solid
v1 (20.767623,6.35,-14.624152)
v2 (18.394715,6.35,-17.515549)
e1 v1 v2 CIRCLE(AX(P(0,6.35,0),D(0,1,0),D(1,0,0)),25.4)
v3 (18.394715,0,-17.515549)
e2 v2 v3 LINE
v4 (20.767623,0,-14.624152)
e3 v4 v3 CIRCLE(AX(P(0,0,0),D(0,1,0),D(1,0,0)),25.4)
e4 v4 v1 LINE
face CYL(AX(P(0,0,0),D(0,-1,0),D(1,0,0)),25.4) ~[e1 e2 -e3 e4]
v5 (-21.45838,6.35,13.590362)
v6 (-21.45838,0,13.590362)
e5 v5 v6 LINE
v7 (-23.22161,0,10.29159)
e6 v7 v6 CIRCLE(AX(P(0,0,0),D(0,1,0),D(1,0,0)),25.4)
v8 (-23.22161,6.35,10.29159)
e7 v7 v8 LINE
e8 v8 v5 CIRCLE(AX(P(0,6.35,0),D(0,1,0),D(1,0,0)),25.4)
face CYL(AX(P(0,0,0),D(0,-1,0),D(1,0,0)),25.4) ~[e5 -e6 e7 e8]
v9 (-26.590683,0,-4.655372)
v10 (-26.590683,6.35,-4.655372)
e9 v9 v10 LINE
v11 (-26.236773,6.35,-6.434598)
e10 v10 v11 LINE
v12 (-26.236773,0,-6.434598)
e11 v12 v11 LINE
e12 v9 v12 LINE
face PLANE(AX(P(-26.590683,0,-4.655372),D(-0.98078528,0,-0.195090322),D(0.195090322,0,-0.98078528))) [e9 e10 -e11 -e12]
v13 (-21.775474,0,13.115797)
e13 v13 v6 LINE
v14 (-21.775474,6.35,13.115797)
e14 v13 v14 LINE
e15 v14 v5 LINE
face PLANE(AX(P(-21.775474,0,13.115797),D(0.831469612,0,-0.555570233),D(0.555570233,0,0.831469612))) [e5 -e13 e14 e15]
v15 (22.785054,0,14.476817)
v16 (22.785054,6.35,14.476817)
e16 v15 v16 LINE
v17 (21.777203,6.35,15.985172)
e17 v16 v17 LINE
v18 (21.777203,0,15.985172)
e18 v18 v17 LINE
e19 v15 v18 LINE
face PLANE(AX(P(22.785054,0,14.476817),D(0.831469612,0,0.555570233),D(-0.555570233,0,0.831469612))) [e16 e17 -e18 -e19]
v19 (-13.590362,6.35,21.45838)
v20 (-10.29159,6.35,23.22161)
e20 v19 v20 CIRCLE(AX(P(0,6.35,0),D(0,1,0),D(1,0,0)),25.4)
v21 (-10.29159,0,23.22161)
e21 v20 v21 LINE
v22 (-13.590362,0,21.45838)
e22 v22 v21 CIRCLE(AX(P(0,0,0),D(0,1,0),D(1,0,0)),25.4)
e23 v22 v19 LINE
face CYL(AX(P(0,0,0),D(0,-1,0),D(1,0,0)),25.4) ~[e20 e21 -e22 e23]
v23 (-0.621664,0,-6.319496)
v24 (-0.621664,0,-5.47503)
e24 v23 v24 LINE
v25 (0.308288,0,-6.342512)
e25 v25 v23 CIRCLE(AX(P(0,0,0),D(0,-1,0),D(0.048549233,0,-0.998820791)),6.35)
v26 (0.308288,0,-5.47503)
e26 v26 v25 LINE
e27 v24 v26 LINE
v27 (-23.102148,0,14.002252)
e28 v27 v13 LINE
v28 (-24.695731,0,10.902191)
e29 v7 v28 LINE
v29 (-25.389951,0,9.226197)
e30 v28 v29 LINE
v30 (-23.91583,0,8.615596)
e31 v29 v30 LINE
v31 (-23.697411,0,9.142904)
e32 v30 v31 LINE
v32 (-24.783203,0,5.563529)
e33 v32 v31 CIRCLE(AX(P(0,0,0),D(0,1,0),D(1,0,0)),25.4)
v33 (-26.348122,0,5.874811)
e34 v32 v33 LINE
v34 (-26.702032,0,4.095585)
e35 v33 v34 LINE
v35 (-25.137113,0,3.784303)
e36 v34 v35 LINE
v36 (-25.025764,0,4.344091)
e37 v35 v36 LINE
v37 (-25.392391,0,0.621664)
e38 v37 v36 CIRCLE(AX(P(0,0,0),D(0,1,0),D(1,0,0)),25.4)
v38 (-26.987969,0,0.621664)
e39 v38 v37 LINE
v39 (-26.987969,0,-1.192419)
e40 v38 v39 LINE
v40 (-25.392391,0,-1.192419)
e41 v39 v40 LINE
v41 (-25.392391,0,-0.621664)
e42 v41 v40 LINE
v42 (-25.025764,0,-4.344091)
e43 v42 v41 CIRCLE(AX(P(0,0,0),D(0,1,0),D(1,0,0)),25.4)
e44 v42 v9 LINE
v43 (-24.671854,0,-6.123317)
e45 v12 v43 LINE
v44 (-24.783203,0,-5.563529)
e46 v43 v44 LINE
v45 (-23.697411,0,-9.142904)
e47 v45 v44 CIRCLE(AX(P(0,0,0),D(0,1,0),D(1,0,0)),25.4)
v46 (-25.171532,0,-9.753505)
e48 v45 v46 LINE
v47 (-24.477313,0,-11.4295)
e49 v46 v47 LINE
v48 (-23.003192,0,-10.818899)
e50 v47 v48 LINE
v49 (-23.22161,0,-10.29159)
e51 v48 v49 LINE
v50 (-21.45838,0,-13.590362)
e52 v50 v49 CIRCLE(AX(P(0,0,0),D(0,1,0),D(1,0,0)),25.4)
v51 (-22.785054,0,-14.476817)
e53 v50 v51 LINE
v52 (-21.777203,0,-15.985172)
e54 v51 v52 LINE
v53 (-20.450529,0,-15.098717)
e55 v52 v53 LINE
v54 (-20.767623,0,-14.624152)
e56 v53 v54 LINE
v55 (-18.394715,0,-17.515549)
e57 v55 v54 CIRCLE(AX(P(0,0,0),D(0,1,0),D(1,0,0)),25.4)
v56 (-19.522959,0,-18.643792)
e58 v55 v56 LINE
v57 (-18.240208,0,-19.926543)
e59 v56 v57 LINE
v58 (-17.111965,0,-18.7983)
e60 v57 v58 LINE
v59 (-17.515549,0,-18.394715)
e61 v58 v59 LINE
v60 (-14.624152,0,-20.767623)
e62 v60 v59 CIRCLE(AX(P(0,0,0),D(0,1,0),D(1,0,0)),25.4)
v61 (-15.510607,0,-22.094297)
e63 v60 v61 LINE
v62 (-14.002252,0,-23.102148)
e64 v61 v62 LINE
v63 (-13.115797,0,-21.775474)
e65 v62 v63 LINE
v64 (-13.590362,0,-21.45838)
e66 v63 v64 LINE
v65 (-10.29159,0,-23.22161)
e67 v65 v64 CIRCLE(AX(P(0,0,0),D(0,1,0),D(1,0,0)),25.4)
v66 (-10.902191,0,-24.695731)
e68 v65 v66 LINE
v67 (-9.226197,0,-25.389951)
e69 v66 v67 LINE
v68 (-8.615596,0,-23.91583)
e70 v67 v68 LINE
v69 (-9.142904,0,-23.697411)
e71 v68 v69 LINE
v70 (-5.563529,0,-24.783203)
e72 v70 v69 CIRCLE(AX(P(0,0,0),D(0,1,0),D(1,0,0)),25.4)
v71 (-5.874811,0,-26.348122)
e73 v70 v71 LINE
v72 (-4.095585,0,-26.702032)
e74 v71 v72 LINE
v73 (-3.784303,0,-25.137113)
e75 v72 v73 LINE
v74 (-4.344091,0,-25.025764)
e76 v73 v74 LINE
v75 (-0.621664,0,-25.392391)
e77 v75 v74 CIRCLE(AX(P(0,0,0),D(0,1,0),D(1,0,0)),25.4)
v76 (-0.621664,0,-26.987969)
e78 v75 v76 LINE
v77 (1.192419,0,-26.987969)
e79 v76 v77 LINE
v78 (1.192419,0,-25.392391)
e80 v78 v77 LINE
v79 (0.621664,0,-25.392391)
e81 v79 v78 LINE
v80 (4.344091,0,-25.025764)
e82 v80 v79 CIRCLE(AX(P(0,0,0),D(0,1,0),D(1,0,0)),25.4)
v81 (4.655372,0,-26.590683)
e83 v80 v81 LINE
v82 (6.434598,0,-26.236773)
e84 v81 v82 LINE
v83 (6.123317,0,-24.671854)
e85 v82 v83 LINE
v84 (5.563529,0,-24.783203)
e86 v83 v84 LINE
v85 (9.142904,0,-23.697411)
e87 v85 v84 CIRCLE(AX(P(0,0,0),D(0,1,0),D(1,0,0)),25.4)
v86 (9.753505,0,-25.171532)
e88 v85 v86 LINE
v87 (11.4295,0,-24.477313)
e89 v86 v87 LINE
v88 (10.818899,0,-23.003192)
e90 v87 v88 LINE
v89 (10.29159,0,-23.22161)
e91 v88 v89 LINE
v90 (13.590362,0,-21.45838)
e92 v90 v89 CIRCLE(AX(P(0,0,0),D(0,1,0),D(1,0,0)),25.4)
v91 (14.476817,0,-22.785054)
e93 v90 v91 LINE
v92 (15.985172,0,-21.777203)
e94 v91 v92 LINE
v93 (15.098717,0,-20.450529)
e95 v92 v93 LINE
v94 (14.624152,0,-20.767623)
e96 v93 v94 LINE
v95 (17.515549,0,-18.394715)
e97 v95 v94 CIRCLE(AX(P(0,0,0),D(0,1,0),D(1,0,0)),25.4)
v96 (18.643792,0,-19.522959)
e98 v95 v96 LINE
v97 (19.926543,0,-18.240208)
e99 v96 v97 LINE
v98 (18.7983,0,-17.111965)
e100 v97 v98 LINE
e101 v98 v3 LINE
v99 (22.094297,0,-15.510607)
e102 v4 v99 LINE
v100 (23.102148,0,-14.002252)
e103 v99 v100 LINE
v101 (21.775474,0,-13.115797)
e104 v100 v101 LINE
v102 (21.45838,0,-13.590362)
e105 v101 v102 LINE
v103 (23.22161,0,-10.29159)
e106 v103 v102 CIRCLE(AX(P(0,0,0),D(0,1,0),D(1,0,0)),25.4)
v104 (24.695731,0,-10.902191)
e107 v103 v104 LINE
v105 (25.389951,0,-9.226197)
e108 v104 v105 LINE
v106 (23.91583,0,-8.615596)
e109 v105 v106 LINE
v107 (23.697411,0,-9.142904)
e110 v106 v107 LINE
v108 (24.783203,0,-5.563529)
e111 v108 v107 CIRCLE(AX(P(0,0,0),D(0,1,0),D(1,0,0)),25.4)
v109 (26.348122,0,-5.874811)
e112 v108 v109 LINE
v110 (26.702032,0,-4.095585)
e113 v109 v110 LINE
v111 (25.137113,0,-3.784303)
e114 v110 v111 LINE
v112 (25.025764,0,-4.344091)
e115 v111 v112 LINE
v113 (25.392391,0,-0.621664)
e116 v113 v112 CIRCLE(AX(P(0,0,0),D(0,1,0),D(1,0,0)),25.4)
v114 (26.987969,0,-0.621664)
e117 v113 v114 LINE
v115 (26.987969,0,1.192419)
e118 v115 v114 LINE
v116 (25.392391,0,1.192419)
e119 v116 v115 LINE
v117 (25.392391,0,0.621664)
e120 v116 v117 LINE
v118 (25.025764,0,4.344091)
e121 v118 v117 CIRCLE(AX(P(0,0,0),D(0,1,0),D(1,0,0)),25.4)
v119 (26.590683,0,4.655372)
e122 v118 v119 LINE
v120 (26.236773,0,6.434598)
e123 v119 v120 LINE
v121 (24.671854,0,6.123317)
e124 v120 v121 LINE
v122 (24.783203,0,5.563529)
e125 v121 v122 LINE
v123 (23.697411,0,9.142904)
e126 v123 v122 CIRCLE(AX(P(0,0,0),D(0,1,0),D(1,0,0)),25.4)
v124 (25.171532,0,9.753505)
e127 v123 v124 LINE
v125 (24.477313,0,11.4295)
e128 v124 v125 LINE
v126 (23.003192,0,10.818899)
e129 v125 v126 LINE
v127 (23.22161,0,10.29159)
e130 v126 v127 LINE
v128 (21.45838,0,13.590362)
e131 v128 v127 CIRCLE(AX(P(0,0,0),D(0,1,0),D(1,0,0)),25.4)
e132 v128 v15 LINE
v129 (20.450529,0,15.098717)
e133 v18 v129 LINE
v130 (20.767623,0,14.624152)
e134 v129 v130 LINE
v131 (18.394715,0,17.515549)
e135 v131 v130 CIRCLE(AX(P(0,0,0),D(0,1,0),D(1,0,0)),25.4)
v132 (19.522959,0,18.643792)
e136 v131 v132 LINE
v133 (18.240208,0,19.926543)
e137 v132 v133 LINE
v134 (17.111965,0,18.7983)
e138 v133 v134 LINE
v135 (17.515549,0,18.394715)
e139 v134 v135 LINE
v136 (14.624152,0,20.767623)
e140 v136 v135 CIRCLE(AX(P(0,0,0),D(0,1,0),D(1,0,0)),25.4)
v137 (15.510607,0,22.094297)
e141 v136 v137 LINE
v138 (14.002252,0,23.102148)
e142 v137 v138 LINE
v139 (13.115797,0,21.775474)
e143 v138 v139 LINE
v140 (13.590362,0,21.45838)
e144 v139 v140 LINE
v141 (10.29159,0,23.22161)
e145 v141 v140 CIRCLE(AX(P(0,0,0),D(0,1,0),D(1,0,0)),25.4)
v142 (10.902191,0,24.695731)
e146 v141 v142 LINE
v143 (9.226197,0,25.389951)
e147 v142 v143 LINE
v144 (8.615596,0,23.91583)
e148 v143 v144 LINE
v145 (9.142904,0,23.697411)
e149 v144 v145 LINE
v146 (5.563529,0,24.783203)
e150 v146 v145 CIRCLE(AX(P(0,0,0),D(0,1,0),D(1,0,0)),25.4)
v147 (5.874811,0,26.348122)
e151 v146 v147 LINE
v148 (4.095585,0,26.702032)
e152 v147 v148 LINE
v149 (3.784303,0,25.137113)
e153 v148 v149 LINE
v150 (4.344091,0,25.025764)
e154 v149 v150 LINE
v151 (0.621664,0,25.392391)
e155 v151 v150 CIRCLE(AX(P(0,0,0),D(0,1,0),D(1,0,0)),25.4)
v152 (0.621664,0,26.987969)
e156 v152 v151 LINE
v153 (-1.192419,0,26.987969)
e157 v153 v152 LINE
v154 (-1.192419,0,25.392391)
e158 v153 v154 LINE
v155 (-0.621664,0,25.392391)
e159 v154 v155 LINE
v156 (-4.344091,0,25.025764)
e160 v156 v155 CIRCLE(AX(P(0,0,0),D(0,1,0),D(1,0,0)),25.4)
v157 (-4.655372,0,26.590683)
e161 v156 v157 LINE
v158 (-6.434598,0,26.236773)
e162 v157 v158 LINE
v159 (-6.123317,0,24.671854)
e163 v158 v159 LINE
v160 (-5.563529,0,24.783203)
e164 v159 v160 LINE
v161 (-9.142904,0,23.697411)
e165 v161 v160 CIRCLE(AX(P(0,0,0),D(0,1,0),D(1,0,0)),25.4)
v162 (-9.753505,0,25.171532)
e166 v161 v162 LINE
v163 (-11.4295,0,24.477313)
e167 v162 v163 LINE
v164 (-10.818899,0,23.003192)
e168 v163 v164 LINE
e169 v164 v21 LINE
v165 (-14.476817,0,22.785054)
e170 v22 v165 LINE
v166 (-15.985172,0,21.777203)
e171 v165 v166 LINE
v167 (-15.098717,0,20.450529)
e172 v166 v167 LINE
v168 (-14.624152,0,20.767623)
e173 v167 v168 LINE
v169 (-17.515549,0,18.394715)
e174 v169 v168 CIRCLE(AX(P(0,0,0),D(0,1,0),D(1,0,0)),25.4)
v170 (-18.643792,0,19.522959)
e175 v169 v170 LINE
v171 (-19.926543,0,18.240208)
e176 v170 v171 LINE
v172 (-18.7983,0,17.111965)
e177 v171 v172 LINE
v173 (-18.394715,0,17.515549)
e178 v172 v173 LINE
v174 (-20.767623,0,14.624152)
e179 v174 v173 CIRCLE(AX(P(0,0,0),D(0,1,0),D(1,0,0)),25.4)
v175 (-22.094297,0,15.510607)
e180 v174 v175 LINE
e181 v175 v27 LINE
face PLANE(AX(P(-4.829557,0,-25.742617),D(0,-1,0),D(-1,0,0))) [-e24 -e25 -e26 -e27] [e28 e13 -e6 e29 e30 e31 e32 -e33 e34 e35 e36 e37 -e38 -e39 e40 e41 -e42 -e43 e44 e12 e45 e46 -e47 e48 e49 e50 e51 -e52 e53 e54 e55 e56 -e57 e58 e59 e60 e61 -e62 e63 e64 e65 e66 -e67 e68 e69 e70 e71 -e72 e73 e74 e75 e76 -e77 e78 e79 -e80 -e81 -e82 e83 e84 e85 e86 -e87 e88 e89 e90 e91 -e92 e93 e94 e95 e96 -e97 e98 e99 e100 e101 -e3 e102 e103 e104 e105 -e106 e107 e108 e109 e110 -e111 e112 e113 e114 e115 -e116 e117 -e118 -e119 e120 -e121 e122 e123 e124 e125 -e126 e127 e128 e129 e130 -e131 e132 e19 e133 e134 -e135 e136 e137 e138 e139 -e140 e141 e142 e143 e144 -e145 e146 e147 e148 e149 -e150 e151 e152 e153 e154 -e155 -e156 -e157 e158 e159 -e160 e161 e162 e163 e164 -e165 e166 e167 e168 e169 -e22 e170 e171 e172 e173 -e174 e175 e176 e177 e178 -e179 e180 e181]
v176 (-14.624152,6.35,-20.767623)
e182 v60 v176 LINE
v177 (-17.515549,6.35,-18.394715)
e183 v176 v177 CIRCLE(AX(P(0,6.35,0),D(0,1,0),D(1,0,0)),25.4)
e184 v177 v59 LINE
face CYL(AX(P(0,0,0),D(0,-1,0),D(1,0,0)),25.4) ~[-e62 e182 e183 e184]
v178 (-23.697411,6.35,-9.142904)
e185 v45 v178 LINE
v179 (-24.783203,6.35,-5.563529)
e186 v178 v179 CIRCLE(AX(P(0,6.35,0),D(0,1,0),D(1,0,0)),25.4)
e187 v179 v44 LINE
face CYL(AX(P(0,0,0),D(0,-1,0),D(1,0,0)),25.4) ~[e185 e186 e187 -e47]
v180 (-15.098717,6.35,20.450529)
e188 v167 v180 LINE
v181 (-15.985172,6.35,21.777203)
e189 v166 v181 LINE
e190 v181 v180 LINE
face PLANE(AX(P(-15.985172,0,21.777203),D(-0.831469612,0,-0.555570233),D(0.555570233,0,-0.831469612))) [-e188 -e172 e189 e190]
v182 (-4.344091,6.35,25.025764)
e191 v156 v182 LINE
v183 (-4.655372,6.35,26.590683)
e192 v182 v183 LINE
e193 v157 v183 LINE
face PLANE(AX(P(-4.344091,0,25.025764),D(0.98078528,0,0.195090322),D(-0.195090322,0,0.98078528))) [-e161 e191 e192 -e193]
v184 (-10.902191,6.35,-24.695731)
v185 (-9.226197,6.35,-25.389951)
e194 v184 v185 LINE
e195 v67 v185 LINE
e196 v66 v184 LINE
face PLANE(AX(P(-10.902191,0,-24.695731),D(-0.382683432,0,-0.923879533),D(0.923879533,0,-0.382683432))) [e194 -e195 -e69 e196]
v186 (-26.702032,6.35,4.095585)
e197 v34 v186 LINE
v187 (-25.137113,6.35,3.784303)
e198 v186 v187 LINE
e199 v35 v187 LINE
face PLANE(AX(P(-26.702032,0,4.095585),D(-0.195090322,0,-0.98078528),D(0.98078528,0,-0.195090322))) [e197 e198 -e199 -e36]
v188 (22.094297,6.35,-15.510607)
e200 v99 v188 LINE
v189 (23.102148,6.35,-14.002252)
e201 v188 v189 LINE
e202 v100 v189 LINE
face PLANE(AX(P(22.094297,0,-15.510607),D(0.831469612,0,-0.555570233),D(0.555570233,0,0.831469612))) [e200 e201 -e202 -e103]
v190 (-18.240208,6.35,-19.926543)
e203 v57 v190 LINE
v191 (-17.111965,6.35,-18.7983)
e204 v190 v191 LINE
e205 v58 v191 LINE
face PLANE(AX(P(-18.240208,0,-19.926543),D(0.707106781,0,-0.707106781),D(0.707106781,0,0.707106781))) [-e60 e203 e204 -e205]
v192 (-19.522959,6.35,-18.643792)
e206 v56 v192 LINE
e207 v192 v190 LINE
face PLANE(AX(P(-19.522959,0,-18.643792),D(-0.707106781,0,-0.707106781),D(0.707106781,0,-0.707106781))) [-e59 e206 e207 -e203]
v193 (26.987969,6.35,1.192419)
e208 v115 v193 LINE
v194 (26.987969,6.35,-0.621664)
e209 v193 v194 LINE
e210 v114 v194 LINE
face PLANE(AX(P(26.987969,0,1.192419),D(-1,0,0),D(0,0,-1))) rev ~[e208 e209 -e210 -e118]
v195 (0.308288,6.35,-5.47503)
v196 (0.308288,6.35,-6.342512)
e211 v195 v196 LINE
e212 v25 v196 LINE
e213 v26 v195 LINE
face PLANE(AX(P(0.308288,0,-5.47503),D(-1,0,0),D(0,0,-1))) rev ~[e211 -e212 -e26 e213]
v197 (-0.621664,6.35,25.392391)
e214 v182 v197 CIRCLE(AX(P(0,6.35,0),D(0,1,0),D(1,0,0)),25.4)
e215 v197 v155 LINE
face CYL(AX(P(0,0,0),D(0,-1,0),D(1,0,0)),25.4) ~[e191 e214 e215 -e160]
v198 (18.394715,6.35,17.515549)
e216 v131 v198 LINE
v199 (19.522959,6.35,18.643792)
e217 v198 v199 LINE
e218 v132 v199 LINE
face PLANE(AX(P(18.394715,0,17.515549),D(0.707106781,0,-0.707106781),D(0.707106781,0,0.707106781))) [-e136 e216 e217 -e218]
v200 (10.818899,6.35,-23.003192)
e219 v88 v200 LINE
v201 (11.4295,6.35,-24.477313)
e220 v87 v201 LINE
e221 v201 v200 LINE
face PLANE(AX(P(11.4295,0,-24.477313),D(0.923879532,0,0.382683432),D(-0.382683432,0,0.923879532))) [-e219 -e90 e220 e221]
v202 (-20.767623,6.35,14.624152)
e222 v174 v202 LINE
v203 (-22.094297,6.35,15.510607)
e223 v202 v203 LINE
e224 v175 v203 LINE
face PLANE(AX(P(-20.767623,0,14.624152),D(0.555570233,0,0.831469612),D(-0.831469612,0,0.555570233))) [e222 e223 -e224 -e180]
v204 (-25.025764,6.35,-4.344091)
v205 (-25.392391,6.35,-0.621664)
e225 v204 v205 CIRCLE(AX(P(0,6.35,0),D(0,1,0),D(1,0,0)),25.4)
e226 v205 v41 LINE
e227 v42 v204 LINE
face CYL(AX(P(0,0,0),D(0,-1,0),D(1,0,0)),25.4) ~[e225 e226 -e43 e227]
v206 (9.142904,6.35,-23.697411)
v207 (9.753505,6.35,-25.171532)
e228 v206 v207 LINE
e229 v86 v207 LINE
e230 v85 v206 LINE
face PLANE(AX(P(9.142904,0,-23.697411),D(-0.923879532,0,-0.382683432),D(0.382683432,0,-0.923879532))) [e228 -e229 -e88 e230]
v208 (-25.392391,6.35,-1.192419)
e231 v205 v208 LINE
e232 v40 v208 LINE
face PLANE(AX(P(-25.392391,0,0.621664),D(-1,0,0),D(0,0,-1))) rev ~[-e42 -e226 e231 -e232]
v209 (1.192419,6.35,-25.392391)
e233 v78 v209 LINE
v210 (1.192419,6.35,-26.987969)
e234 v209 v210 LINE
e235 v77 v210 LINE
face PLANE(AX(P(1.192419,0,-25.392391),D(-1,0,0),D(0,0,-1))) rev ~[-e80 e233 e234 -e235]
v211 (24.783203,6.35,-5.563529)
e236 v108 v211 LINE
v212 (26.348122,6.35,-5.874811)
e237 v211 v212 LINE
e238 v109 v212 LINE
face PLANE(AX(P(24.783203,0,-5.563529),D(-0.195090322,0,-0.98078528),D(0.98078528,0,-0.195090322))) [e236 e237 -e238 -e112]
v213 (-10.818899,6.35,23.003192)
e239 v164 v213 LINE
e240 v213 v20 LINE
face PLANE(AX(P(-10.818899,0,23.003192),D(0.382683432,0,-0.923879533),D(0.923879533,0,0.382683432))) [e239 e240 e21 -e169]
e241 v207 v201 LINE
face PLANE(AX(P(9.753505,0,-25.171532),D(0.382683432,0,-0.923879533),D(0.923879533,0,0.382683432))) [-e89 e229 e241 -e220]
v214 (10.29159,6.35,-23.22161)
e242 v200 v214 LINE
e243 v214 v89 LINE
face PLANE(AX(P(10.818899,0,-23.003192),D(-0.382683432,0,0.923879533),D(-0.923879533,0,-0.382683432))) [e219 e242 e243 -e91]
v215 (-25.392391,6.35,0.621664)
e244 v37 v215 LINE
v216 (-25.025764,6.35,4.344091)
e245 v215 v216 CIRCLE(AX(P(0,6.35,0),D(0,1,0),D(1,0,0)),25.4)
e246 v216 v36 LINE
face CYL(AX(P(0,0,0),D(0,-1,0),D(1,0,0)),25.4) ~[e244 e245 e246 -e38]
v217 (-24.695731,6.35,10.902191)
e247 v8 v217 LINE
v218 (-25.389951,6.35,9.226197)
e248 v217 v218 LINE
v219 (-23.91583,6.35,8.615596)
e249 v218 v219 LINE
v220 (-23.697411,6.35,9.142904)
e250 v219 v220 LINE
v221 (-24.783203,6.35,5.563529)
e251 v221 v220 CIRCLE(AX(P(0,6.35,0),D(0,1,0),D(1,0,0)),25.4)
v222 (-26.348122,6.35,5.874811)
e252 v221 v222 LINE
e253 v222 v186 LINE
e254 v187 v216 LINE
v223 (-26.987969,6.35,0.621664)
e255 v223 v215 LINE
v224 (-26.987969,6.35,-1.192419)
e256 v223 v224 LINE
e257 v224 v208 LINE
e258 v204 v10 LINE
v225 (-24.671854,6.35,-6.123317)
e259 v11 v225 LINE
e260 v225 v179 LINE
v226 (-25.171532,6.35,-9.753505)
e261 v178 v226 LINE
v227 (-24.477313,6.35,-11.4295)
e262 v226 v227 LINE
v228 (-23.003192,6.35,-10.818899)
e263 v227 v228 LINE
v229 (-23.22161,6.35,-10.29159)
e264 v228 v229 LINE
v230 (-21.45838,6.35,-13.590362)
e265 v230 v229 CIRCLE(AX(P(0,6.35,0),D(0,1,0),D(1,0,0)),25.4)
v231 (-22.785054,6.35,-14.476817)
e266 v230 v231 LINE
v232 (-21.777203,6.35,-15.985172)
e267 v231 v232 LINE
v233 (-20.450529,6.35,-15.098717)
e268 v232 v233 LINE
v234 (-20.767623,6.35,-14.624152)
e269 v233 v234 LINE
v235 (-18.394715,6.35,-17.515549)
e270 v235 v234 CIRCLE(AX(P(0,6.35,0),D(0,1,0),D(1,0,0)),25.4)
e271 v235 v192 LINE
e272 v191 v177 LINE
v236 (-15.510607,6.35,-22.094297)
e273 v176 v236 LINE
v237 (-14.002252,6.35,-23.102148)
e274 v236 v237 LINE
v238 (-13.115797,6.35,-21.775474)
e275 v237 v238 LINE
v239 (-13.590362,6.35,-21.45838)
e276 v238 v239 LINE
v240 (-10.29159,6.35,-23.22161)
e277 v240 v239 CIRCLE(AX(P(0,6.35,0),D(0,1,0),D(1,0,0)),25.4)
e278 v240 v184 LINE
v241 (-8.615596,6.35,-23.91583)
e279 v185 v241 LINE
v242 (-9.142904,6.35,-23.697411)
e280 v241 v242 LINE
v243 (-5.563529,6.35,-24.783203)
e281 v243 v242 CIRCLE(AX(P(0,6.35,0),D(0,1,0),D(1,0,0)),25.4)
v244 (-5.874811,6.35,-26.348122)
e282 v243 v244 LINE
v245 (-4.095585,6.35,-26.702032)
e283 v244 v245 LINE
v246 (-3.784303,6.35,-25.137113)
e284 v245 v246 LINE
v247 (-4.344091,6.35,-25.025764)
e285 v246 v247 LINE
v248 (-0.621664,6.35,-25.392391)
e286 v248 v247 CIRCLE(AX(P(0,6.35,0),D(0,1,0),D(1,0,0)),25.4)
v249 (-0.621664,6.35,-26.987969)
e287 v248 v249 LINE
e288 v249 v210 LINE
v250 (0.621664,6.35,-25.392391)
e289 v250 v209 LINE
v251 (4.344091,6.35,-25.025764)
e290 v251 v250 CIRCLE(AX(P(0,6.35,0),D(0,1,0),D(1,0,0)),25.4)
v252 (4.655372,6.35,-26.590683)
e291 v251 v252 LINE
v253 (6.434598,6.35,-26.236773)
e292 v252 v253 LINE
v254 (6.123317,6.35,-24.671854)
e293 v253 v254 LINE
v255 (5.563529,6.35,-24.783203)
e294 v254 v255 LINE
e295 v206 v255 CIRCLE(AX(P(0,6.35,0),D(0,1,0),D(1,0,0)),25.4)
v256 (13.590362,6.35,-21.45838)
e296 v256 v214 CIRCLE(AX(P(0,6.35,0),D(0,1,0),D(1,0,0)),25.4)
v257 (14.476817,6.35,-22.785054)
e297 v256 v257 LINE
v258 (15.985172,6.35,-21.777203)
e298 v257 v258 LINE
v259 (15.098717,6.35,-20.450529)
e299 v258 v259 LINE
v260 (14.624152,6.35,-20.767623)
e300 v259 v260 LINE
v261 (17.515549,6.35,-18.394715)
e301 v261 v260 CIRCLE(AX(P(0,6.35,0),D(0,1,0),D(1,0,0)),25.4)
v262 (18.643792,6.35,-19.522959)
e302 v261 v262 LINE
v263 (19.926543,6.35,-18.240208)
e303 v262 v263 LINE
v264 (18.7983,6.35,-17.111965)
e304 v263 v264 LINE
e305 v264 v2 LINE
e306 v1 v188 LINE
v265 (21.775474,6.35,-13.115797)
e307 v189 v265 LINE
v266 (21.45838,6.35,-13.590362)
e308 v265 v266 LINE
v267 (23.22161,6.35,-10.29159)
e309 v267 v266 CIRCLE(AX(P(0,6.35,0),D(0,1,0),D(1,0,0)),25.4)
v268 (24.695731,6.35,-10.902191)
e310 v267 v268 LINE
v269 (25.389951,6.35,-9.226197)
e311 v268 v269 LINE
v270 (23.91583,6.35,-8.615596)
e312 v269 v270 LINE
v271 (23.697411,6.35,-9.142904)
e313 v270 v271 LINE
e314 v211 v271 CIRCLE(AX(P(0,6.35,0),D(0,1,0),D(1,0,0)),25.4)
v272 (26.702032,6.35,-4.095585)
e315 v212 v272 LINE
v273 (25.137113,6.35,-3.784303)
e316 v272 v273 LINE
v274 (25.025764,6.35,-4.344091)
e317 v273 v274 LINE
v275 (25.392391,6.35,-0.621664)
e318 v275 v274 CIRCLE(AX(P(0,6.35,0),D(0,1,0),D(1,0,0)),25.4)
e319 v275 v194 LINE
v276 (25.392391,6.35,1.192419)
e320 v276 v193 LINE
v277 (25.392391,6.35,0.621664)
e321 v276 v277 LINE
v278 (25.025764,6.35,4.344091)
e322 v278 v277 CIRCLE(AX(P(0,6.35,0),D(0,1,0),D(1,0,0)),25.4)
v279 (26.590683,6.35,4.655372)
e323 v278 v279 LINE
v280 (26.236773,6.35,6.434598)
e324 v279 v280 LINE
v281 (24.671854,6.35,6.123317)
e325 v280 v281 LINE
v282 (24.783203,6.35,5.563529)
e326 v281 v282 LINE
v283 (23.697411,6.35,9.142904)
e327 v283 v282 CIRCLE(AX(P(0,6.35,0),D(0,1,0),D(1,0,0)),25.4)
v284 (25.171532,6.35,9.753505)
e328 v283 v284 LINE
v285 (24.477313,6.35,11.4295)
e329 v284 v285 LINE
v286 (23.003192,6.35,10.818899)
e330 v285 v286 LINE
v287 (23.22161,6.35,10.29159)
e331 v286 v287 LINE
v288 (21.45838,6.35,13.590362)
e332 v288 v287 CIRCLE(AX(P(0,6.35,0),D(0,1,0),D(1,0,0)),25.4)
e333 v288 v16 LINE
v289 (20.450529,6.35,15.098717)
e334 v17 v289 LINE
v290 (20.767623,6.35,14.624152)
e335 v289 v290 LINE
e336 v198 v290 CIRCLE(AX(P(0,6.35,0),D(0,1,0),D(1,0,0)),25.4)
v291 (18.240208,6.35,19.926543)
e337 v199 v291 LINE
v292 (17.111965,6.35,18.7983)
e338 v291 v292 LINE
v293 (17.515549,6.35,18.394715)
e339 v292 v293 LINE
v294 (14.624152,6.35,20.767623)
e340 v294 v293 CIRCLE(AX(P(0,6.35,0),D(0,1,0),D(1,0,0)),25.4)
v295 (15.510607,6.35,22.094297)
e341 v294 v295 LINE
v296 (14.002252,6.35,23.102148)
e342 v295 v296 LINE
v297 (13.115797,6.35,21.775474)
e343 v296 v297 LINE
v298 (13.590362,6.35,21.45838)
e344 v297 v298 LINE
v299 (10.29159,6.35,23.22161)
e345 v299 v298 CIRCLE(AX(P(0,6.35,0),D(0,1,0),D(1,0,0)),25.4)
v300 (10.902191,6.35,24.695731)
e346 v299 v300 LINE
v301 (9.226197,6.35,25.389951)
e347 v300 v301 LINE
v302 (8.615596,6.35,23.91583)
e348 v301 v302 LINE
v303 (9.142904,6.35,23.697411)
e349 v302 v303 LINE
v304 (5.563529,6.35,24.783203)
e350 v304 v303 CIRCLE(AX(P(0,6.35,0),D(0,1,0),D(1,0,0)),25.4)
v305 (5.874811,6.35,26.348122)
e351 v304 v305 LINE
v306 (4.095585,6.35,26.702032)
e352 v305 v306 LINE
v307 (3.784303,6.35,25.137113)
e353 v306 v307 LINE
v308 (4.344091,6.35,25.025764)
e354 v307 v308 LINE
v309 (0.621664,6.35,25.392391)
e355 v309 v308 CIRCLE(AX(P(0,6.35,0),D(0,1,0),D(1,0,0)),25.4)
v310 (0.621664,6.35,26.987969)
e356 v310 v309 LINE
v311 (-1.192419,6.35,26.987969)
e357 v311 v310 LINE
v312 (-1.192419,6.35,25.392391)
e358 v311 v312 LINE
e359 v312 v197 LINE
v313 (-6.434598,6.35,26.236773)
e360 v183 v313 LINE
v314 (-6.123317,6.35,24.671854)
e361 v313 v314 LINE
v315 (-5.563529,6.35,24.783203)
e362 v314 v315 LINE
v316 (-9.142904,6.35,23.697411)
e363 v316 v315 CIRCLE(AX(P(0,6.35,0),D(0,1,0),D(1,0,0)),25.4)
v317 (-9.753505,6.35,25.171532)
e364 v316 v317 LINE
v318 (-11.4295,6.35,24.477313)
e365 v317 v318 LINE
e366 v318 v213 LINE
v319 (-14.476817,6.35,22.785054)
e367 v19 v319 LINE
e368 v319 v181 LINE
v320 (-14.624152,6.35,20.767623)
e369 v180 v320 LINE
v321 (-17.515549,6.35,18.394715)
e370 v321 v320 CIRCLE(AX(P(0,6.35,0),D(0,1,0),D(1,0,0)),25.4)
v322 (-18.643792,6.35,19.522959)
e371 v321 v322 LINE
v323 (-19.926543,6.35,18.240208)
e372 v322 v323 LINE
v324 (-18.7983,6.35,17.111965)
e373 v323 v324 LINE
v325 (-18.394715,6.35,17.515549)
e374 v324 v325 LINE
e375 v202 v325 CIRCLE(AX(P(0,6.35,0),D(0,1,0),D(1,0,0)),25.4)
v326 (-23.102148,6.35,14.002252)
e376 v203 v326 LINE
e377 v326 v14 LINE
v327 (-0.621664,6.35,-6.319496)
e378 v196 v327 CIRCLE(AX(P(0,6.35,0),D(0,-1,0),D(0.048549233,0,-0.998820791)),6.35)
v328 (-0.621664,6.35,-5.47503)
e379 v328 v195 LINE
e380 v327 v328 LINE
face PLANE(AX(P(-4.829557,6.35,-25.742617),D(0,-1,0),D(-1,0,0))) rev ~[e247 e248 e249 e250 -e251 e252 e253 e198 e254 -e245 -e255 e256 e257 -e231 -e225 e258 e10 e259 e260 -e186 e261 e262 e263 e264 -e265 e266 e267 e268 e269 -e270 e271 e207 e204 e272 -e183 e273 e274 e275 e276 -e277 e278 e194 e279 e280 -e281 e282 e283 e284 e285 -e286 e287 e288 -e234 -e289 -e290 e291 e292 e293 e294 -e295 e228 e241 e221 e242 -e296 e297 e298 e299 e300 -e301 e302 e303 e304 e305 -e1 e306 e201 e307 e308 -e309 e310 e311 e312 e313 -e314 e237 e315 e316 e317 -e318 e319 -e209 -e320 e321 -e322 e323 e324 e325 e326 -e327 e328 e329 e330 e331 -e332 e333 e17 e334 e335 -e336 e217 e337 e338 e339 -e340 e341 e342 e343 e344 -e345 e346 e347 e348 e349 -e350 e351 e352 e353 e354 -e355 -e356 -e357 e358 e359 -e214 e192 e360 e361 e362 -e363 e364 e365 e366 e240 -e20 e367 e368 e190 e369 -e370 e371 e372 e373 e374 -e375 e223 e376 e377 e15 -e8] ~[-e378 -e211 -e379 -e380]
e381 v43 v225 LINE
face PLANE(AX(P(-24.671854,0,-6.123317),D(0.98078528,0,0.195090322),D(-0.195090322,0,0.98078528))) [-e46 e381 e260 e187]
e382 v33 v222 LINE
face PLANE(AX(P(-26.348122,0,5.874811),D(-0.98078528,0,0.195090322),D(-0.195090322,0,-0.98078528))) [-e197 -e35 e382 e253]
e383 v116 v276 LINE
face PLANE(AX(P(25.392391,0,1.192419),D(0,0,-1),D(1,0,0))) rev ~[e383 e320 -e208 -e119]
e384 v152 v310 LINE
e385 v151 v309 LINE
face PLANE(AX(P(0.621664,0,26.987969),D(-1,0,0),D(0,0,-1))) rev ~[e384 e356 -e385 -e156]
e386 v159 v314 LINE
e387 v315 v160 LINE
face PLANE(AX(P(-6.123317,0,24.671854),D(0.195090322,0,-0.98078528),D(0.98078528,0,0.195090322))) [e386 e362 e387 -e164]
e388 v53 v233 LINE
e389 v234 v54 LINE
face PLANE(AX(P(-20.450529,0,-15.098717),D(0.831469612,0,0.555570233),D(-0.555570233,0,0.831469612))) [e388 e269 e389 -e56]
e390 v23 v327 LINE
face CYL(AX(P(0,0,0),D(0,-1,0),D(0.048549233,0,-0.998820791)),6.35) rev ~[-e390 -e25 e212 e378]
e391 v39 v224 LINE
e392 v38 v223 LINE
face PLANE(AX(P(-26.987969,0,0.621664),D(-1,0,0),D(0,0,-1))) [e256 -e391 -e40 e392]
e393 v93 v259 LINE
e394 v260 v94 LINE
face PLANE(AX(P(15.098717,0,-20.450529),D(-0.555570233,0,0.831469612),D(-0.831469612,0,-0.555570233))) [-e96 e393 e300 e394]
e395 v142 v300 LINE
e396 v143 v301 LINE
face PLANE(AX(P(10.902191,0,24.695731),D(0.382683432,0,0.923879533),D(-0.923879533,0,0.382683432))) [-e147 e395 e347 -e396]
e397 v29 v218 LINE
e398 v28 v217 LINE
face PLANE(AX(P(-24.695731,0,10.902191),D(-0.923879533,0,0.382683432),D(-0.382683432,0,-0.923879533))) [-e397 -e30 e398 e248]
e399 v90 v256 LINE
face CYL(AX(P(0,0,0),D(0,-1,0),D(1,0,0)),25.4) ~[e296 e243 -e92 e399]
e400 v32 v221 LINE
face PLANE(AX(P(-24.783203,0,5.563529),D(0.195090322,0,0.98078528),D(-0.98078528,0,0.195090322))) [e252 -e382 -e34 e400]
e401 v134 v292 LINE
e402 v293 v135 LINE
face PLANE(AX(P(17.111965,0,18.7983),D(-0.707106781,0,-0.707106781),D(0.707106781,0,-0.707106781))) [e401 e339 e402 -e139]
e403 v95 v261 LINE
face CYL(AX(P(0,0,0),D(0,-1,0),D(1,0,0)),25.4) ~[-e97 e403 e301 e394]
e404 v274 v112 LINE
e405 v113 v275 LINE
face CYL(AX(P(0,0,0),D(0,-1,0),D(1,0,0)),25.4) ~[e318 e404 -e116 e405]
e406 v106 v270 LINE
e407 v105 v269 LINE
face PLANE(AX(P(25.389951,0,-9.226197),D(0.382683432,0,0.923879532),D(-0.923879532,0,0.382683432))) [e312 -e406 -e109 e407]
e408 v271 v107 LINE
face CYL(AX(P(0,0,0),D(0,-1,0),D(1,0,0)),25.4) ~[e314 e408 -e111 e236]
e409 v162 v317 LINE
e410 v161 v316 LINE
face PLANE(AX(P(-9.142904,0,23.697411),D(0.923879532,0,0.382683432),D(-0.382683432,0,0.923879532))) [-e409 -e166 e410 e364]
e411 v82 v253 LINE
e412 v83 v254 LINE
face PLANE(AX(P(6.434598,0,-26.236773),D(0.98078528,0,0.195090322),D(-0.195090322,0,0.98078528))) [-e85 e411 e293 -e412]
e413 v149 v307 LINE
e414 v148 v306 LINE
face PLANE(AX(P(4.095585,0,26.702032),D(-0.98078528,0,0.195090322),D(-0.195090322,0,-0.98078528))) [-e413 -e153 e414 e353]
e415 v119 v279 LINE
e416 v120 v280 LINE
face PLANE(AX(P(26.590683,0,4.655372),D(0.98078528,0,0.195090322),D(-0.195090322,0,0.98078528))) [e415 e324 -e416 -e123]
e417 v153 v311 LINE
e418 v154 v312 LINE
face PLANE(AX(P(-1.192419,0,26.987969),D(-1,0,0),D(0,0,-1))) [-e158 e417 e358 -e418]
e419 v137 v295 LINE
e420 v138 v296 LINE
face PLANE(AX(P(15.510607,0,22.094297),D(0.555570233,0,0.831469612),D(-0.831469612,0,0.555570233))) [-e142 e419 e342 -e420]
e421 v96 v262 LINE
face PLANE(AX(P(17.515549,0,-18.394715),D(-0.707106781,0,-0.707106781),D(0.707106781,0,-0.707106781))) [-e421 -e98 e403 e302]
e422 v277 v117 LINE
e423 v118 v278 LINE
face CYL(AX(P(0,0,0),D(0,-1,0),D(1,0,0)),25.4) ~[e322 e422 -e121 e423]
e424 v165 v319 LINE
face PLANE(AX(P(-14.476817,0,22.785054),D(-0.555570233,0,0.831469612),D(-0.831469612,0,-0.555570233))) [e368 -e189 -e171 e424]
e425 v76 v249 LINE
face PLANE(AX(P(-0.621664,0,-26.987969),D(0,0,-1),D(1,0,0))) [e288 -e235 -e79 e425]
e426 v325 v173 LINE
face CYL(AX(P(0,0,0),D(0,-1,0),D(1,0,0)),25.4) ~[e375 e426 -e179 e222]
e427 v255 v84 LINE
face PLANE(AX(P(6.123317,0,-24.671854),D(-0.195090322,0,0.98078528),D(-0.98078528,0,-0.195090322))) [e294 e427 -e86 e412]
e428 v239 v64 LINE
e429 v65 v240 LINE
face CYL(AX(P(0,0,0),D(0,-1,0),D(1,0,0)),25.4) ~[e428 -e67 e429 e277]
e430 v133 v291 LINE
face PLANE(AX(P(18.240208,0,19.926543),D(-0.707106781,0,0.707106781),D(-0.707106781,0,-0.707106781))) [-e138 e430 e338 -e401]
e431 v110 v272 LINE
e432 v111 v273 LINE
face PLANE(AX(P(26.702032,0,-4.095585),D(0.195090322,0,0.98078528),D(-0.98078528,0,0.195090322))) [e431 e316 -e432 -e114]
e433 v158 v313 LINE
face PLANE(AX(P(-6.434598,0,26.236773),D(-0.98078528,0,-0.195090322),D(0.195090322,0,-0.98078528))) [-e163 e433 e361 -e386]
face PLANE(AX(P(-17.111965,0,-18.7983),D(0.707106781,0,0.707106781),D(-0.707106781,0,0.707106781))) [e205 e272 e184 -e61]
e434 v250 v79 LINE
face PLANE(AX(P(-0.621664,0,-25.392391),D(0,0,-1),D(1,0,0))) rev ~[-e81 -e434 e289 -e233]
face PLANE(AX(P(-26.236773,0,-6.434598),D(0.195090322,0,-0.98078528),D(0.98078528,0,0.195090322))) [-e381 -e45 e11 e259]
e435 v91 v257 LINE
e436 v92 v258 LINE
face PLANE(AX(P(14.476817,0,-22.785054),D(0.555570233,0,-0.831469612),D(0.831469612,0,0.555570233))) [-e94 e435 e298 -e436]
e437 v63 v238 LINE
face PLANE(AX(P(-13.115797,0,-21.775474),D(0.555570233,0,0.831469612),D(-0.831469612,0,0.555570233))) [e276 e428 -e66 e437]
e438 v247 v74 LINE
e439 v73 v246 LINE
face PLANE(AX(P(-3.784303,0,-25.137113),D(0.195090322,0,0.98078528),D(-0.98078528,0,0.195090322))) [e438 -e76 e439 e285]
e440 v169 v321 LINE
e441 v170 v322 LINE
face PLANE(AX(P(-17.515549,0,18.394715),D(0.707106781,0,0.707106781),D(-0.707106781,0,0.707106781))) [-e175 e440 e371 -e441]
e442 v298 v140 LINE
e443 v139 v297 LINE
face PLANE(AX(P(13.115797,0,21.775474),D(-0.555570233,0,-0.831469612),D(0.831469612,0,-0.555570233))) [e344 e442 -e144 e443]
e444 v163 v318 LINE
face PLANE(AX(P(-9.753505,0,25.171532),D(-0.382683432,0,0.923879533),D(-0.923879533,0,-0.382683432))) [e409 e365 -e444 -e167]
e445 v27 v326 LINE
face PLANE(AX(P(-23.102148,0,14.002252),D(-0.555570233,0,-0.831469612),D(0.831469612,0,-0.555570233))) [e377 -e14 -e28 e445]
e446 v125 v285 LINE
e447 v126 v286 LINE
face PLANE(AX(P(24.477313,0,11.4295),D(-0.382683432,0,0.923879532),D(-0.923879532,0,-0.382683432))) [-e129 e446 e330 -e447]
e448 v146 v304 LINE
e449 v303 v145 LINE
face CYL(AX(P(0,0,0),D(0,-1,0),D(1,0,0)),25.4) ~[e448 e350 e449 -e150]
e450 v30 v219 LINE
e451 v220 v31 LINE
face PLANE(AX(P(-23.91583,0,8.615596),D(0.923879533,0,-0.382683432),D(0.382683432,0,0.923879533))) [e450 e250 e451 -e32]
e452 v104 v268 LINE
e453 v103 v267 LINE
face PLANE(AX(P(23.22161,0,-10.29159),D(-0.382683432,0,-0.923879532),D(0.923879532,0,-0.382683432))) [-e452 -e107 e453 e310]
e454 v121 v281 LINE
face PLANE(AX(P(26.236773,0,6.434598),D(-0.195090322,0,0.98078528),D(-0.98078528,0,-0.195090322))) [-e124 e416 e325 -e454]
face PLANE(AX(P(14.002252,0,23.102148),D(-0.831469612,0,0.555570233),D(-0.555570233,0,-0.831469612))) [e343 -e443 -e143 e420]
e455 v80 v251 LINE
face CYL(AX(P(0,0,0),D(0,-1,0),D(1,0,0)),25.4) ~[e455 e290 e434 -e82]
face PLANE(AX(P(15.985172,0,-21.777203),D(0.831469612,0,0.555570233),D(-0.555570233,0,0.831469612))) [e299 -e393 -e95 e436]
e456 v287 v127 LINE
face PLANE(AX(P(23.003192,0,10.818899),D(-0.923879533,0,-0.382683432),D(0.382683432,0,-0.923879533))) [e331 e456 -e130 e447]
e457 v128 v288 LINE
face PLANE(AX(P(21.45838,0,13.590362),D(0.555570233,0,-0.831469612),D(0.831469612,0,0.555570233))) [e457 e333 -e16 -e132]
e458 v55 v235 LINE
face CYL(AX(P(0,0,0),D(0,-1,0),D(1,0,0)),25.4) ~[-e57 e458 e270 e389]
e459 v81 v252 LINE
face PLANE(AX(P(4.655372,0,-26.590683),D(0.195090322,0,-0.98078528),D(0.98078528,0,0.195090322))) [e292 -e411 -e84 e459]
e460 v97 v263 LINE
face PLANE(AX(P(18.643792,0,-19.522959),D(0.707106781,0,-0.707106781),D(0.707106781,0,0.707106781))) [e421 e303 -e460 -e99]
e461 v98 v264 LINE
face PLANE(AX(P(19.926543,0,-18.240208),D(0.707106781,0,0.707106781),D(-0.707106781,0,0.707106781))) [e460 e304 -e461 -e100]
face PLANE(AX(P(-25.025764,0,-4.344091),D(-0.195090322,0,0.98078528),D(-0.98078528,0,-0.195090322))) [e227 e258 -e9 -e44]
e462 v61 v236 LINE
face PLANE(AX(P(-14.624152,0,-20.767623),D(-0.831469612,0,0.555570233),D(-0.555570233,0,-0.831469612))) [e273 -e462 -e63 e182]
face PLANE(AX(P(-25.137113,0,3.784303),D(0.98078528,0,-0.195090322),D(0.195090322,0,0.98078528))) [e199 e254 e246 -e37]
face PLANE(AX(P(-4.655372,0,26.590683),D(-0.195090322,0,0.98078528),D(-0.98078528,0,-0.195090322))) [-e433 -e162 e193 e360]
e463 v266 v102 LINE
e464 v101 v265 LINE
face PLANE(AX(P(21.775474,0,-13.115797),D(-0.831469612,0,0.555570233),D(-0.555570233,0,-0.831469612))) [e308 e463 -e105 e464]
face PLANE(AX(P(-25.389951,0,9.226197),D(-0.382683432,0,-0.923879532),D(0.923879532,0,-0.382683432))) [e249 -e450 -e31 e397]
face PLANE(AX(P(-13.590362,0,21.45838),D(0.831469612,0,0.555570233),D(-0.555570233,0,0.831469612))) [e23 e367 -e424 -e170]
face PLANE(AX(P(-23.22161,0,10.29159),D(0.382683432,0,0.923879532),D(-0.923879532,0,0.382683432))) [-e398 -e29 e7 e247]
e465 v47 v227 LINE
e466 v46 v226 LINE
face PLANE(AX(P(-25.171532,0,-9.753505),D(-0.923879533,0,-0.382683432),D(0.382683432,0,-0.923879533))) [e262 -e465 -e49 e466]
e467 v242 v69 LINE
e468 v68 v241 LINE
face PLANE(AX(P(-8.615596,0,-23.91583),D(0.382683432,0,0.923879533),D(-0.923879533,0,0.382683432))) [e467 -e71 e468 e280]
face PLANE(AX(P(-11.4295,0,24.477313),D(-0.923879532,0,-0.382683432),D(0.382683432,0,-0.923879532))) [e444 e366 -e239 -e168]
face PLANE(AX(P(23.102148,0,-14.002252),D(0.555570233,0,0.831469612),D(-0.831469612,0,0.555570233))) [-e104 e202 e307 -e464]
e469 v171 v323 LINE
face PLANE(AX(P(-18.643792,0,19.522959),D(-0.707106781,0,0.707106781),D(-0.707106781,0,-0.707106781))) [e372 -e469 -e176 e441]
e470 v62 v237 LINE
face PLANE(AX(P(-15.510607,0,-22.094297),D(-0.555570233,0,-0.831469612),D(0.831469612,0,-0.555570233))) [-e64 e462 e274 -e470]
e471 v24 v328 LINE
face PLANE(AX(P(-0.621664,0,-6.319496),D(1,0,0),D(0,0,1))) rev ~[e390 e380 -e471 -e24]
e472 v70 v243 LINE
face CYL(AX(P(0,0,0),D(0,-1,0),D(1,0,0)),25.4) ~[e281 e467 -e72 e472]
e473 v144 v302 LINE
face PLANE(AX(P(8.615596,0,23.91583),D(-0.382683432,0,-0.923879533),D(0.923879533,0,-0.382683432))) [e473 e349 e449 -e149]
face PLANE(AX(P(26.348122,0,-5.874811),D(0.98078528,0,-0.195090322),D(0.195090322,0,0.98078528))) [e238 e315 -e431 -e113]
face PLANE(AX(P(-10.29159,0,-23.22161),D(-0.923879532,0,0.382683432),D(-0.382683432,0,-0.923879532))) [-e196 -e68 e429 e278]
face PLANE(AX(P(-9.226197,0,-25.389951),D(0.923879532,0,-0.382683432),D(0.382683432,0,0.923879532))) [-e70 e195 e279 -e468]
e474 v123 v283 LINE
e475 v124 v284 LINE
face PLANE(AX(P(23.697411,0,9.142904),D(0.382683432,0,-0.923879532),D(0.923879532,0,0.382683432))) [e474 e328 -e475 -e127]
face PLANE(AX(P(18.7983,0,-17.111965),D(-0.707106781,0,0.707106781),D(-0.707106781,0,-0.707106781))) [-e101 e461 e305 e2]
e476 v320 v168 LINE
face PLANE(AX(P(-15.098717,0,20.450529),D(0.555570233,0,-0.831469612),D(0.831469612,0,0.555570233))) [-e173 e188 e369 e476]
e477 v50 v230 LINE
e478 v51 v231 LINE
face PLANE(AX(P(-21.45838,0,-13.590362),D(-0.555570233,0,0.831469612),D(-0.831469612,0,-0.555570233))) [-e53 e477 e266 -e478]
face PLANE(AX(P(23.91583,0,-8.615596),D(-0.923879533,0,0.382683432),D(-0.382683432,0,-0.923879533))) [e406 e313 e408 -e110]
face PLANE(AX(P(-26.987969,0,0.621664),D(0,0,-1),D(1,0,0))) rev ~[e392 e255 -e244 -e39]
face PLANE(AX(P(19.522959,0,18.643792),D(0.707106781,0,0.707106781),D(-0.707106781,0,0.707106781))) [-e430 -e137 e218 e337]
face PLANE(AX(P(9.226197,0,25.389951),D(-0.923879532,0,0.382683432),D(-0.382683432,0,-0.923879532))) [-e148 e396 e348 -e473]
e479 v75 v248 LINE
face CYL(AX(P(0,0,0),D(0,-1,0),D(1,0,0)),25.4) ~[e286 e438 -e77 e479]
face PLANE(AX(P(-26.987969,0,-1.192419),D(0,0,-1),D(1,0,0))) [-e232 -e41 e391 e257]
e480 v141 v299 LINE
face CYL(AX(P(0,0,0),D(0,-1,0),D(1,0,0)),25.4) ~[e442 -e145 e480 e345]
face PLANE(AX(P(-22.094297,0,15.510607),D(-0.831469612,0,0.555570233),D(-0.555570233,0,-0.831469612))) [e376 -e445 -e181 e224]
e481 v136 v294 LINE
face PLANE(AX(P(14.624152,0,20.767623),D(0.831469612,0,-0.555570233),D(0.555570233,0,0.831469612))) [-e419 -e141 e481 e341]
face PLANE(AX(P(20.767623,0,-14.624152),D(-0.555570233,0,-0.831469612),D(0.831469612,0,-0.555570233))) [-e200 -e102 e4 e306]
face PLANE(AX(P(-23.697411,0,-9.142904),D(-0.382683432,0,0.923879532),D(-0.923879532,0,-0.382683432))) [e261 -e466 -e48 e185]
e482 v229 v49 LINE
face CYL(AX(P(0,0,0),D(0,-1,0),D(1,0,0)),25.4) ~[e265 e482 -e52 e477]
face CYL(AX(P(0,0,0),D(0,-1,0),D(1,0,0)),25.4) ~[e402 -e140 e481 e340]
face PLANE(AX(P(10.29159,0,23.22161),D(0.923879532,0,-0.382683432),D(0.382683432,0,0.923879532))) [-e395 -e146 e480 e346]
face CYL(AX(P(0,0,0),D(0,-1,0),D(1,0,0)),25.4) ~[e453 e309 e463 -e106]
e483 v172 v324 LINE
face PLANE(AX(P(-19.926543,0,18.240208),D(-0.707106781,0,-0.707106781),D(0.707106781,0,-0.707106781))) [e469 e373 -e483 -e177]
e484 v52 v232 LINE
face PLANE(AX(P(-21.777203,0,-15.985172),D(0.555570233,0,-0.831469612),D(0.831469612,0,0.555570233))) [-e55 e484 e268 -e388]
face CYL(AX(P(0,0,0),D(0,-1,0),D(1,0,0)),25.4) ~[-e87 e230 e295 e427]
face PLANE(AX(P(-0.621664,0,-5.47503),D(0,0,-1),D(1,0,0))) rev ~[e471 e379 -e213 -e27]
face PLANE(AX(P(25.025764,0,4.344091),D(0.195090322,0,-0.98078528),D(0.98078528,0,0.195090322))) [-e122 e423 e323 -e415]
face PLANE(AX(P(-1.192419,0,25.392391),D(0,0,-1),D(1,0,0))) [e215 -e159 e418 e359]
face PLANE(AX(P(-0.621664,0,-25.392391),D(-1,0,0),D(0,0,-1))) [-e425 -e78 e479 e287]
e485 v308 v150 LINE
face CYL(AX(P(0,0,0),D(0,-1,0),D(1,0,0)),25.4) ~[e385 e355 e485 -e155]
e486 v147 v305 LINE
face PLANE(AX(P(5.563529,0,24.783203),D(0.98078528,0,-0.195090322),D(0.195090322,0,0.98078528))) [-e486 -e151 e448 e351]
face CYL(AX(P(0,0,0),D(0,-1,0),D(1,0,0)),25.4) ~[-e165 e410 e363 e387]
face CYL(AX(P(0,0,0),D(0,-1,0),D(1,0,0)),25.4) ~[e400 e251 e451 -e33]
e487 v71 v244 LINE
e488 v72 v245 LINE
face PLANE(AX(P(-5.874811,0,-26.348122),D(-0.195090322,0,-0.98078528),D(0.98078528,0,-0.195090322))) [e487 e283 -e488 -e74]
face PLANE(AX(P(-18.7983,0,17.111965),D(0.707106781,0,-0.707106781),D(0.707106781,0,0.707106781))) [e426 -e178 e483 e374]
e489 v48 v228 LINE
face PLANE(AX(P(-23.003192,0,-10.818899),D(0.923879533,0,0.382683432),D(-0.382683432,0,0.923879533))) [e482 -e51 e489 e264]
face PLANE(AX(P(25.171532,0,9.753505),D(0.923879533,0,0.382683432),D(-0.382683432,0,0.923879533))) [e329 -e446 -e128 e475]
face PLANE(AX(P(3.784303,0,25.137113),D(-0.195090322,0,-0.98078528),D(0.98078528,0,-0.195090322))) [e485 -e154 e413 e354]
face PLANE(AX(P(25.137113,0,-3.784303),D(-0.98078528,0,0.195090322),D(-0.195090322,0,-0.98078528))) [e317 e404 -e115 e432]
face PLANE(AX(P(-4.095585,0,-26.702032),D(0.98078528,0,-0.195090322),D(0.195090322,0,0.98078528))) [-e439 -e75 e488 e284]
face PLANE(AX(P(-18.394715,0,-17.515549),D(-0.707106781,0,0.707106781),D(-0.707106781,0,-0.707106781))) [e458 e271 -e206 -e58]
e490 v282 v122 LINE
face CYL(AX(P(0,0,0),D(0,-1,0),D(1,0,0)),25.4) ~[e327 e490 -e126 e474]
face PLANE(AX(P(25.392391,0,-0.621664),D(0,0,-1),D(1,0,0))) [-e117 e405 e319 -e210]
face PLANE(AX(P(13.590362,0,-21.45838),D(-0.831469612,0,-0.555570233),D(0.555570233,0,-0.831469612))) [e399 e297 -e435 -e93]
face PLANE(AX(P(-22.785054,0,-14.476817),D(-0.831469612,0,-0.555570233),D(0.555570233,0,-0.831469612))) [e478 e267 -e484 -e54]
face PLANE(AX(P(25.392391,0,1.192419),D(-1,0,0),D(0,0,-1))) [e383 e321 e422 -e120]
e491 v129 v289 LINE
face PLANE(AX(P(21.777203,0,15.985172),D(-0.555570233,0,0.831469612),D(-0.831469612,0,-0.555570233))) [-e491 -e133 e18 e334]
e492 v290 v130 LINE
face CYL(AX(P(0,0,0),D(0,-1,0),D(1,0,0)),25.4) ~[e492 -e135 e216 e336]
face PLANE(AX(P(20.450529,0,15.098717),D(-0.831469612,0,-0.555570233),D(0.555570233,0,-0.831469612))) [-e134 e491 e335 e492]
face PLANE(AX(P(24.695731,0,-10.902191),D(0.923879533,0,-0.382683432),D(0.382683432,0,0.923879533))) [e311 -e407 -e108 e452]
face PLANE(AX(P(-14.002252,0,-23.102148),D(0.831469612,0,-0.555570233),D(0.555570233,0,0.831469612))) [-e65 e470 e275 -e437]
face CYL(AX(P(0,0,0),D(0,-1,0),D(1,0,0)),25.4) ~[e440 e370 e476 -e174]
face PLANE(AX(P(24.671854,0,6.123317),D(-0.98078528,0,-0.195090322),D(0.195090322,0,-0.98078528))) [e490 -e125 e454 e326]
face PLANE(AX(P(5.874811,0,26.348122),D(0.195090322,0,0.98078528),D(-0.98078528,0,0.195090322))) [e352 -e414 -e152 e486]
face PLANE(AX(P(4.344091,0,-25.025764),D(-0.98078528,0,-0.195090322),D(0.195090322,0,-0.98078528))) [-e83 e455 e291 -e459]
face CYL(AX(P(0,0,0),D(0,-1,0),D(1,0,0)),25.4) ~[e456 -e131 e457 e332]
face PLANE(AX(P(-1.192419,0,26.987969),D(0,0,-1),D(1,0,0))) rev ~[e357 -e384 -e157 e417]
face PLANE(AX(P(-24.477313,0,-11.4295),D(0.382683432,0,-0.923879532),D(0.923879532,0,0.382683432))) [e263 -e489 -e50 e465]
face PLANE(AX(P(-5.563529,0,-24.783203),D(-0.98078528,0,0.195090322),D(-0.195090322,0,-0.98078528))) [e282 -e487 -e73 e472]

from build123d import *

# Parameters (mm, degrees)
SKETCH1_R           = 25.4
SKETCH1_W           = 1.814083278
SKETCH1_H           = 1.595577256
SKETCH1_W_2         = 1.595577256
SKETCH1_H_2         = 1.814083278
BOSS_EXTRUDE1_DEPTH = 6.35


with BuildPart() as part:
    # Sketch1 → Boss-Extrude1 (new body)
    # profile 1 of 33: a face of its own
    with BuildSketch(Plane(origin=(0, 0, 0), x_dir=(1, 0, 0), z_dir=(0, 1, 0))):
        Circle(SKETCH1_R)
        with BuildLine():
            Line((-0.62166438, 6.319496293), (-0.62166438, 5.475030088))
            Line((-0.62166438, 5.475030088), (0.308287629, 5.475030088))
            Line((0.308287629, 5.475030088), (0.308287629, 6.342512021))
            ThreePointArc((0.308287629, 6.342512021), (0.1571104, -6.348056106), (-0.62166438, 6.319496293))
        make_face(mode=Mode.SUBTRACT)
    # profile 2 of 33: a face of its own
    with BuildSketch(Plane(origin=(0, 0, 0), x_dir=(1, 0, 0), z_dir=(0, 1, 0))):
        Polygon((4.655372194, 26.590682963), (6.434598369, 26.236772872), (6.123316689, 24.671854186), (4.344090513, 25.025764276), align=None)
    # profile 3 of 33: a face of its own
    with BuildSketch(Plane(origin=(0, 0, 0), x_dir=(1, 0, 0), z_dir=(0, 1, 0))):
        with Locations((0.285377259, 26.190179878)):
            Rectangle(SKETCH1_W, SKETCH1_H)
    # profile 4 of 33: a face of its own
    with BuildSketch(Plane(origin=(0, 0, 0), x_dir=(1, 0, 0), z_dir=(0, 1, 0))):
        Polygon((9.753505424, 25.171532385), (11.429499834, 24.47731277), (10.818898853, 23.003191601), (9.142904443, 23.697411216), align=None)
    # profile 5 of 33: a face of its own
    with BuildSketch(Plane(origin=(0, 0, 0), x_dir=(1, 0, 0), z_dir=(0, 1, 0))):
        Polygon((14.476816911, 22.785053935), (15.98517203, 21.777203266), (15.098716802, 20.450529263), (13.590361683, 21.458379932), align=None)
    # profile 6 of 33: a face of its own
    with BuildSketch(Plane(origin=(0, 0, 0), x_dir=(1, 0, 0), z_dir=(0, 1, 0))):
        Polygon((18.643792443, 19.52295864), (19.92654303, 18.240208053), (18.798299532, 17.111964555), (17.515548945, 18.394715142), align=None)
    # profile 7 of 33: a face of its own
    with BuildSketch(Plane(origin=(0, 0, 0), x_dir=(1, 0, 0), z_dir=(0, 1, 0))):
        Polygon((22.094297486, 15.510606992), (23.102148155, 14.002251873), (21.775474153, 13.115796645), (20.767623484, 14.624151764), align=None)
    # profile 8 of 33: a face of its own
    with BuildSketch(Plane(origin=(0, 0, 0), x_dir=(1, 0, 0), z_dir=(0, 1, 0))):
        Polygon((24.695731068, 10.902191417), (25.389950683, 9.226197007), (23.915829514, 8.615596026), (23.221609899, 10.291590436), align=None)
    # profile 9 of 33: a face of its own
    with BuildSketch(Plane(origin=(0, 0, 0), x_dir=(1, 0, 0), z_dir=(0, 1, 0))):
        Polygon((26.348121555, 5.874810739), (26.702031645, 4.095584564), (25.137112959, 3.784302883), (24.783202868, 5.563529059), align=None)
    # profile 10 of 33: a face of its own
    with BuildSketch(Plane(origin=(0, 0, 0), x_dir=(1, 0, 0), z_dir=(0, 1, 0))):
        with Locations((26.190179878, -0.285377259)):
            Rectangle(SKETCH1_W_2, SKETCH1_H_2)
    # profile 11 of 33: a face of its own
    with BuildSketch(Plane(origin=(0, 0, 0), x_dir=(1, 0, 0), z_dir=(0, 1, 0))):
        Polygon((26.590682963, -4.655372194), (26.236772872, -6.434598369), (24.671854186, -6.123316689), (25.025764276, -4.344090513), align=None)
    # profile 12 of 33: a face of its own
    with BuildSketch(Plane(origin=(0, 0, 0), x_dir=(1, 0, 0), z_dir=(0, 1, 0))):
        Polygon((25.171532385, -9.753505424), (24.47731277, -11.429499834), (23.003191601, -10.818898853), (23.697411216, -9.142904443), align=None)
    # profile 13 of 33: a face of its own
    with BuildSketch(Plane(origin=(0, 0, 0), x_dir=(1, 0, 0), z_dir=(0, 1, 0))):
        Polygon((22.785053935, -14.476816911), (21.777203266, -15.98517203), (20.450529263, -15.098716802), (21.458379932, -13.590361683), align=None)
    # profile 14 of 33: a face of its own
    with BuildSketch(Plane(origin=(0, 0, 0), x_dir=(1, 0, 0), z_dir=(0, 1, 0))):
        Polygon((19.52295864, -18.643792443), (18.240208053, -19.92654303), (17.111964555, -18.798299532), (18.394715142, -17.515548945), align=None)
    # profile 15 of 33: a face of its own
    with BuildSketch(Plane(origin=(0, 0, 0), x_dir=(1, 0, 0), z_dir=(0, 1, 0))):
        Polygon((15.510606992, -22.094297486), (14.002251873, -23.102148155), (13.115796645, -21.775474153), (14.624151764, -20.767623484), align=None)
    # profile 16 of 33: a face of its own
    with BuildSketch(Plane(origin=(0, 0, 0), x_dir=(1, 0, 0), z_dir=(0, 1, 0))):
        Polygon((10.902191417, -24.695731068), (9.226197007, -25.389950683), (8.615596026, -23.915829514), (10.291590436, -23.221609899), align=None)
    # profile 17 of 33: a face of its own
    with BuildSketch(Plane(origin=(0, 0, 0), x_dir=(1, 0, 0), z_dir=(0, 1, 0))):
        Polygon((5.874810739, -26.348121555), (4.095584564, -26.702031645), (3.784302883, -25.137112959), (5.563529059, -24.783202868), align=None)
    # profile 18 of 33: a face of its own
    with BuildSketch(Plane(origin=(0, 0, 0), x_dir=(1, 0, 0), z_dir=(0, 1, 0))):
        with Locations((-0.285377259, -26.190179878)):
            Rectangle(SKETCH1_W, SKETCH1_H)
    # profile 19 of 33: a face of its own
    with BuildSketch(Plane(origin=(0, 0, 0), x_dir=(1, 0, 0), z_dir=(0, 1, 0))):
        Polygon((-4.655372194, -26.590682963), (-6.434598369, -26.236772872), (-6.123316689, -24.671854186), (-4.344090513, -25.025764276), align=None)
    # profile 20 of 33: a face of its own
    with BuildSketch(Plane(origin=(0, 0, 0), x_dir=(1, 0, 0), z_dir=(0, 1, 0))):
        Polygon((-9.753505424, -25.171532385), (-11.429499834, -24.47731277), (-10.818898853, -23.003191601), (-9.142904443, -23.697411216), align=None)
    # profile 21 of 33: a face of its own
    with BuildSketch(Plane(origin=(0, 0, 0), x_dir=(1, 0, 0), z_dir=(0, 1, 0))):
        Polygon((-14.476816911, -22.785053935), (-15.98517203, -21.777203266), (-15.098716802, -20.450529263), (-13.590361683, -21.458379932), align=None)
    # profile 22 of 33: a face of its own
    with BuildSketch(Plane(origin=(0, 0, 0), x_dir=(1, 0, 0), z_dir=(0, 1, 0))):
        Polygon((-18.643792443, -19.52295864), (-19.92654303, -18.240208053), (-18.798299532, -17.111964555), (-17.515548945, -18.394715142), align=None)
    # profile 23 of 33: a face of its own
    with BuildSketch(Plane(origin=(0, 0, 0), x_dir=(1, 0, 0), z_dir=(0, 1, 0))):
        Polygon((-22.094297486, -15.510606992), (-23.102148155, -14.002251873), (-21.775474153, -13.115796645), (-20.767623484, -14.624151764), align=None)
    # profile 24 of 33: a face of its own
    with BuildSketch(Plane(origin=(0, 0, 0), x_dir=(1, 0, 0), z_dir=(0, 1, 0))):
        Polygon((-24.695731068, -10.902191417), (-25.389950683, -9.226197007), (-23.915829514, -8.615596026), (-23.221609899, -10.291590436), align=None)
    # profile 25 of 33: a face of its own
    with BuildSketch(Plane(origin=(0, 0, 0), x_dir=(1, 0, 0), z_dir=(0, 1, 0))):
        Polygon((-26.348121555, -5.874810739), (-26.702031645, -4.095584564), (-25.137112959, -3.784302883), (-24.783202868, -5.563529059), align=None)
    # profile 26 of 33: a face of its own
    with BuildSketch(Plane(origin=(0, 0, 0), x_dir=(1, 0, 0), z_dir=(0, 1, 0))):
        with Locations((-26.190179878, 0.285377259)):
            Rectangle(SKETCH1_W_2, SKETCH1_H_2)
    # profile 27 of 33: a face of its own
    with BuildSketch(Plane(origin=(0, 0, 0), x_dir=(1, 0, 0), z_dir=(0, 1, 0))):
        Polygon((-26.590682963, 4.655372194), (-26.236772872, 6.434598369), (-24.671854186, 6.123316689), (-25.025764276, 4.344090513), align=None)
    # profile 28 of 33: a face of its own
    with BuildSketch(Plane(origin=(0, 0, 0), x_dir=(1, 0, 0), z_dir=(0, 1, 0))):
        Polygon((-25.171532385, 9.753505424), (-24.47731277, 11.429499834), (-23.003191601, 10.818898853), (-23.697411216, 9.142904443), align=None)
    # profile 29 of 33: a face of its own
    with BuildSketch(Plane(origin=(0, 0, 0), x_dir=(1, 0, 0), z_dir=(0, 1, 0))):
        Polygon((-22.785053935, 14.476816911), (-21.777203266, 15.98517203), (-20.450529263, 15.098716802), (-21.458379932, 13.590361683), align=None)
    # profile 30 of 33: a face of its own
    with BuildSketch(Plane(origin=(0, 0, 0), x_dir=(1, 0, 0), z_dir=(0, 1, 0))):
        Polygon((-19.52295864, 18.643792443), (-18.240208053, 19.92654303), (-17.111964555, 18.798299532), (-18.394715142, 17.515548945), align=None)
    # profile 31 of 33: a face of its own
    with BuildSketch(Plane(origin=(0, 0, 0), x_dir=(1, 0, 0), z_dir=(0, 1, 0))):
        Polygon((-15.510606992, 22.094297486), (-14.002251873, 23.102148155), (-13.115796645, 21.775474153), (-14.624151764, 20.767623484), align=None)
    # profile 32 of 33: a face of its own
    with BuildSketch(Plane(origin=(0, 0, 0), x_dir=(1, 0, 0), z_dir=(0, 1, 0))):
        Polygon((-10.902191417, 24.695731068), (-9.226197007, 25.389950683), (-8.615596026, 23.915829514), (-10.291590436, 23.221609899), align=None)
    # profile 33 of 33: a face of its own
    with BuildSketch(Plane(origin=(0, 0, 0), x_dir=(1, 0, 0), z_dir=(0, 1, 0))):
        Polygon((-5.874810739, 26.348121555), (-4.095584564, 26.702031645), (-3.784302883, 25.137112959), (-5.563529059, 24.783202868), align=None)
    extrude(amount=BOSS_EXTRUDE1_DEPTH)


solid = part.part
